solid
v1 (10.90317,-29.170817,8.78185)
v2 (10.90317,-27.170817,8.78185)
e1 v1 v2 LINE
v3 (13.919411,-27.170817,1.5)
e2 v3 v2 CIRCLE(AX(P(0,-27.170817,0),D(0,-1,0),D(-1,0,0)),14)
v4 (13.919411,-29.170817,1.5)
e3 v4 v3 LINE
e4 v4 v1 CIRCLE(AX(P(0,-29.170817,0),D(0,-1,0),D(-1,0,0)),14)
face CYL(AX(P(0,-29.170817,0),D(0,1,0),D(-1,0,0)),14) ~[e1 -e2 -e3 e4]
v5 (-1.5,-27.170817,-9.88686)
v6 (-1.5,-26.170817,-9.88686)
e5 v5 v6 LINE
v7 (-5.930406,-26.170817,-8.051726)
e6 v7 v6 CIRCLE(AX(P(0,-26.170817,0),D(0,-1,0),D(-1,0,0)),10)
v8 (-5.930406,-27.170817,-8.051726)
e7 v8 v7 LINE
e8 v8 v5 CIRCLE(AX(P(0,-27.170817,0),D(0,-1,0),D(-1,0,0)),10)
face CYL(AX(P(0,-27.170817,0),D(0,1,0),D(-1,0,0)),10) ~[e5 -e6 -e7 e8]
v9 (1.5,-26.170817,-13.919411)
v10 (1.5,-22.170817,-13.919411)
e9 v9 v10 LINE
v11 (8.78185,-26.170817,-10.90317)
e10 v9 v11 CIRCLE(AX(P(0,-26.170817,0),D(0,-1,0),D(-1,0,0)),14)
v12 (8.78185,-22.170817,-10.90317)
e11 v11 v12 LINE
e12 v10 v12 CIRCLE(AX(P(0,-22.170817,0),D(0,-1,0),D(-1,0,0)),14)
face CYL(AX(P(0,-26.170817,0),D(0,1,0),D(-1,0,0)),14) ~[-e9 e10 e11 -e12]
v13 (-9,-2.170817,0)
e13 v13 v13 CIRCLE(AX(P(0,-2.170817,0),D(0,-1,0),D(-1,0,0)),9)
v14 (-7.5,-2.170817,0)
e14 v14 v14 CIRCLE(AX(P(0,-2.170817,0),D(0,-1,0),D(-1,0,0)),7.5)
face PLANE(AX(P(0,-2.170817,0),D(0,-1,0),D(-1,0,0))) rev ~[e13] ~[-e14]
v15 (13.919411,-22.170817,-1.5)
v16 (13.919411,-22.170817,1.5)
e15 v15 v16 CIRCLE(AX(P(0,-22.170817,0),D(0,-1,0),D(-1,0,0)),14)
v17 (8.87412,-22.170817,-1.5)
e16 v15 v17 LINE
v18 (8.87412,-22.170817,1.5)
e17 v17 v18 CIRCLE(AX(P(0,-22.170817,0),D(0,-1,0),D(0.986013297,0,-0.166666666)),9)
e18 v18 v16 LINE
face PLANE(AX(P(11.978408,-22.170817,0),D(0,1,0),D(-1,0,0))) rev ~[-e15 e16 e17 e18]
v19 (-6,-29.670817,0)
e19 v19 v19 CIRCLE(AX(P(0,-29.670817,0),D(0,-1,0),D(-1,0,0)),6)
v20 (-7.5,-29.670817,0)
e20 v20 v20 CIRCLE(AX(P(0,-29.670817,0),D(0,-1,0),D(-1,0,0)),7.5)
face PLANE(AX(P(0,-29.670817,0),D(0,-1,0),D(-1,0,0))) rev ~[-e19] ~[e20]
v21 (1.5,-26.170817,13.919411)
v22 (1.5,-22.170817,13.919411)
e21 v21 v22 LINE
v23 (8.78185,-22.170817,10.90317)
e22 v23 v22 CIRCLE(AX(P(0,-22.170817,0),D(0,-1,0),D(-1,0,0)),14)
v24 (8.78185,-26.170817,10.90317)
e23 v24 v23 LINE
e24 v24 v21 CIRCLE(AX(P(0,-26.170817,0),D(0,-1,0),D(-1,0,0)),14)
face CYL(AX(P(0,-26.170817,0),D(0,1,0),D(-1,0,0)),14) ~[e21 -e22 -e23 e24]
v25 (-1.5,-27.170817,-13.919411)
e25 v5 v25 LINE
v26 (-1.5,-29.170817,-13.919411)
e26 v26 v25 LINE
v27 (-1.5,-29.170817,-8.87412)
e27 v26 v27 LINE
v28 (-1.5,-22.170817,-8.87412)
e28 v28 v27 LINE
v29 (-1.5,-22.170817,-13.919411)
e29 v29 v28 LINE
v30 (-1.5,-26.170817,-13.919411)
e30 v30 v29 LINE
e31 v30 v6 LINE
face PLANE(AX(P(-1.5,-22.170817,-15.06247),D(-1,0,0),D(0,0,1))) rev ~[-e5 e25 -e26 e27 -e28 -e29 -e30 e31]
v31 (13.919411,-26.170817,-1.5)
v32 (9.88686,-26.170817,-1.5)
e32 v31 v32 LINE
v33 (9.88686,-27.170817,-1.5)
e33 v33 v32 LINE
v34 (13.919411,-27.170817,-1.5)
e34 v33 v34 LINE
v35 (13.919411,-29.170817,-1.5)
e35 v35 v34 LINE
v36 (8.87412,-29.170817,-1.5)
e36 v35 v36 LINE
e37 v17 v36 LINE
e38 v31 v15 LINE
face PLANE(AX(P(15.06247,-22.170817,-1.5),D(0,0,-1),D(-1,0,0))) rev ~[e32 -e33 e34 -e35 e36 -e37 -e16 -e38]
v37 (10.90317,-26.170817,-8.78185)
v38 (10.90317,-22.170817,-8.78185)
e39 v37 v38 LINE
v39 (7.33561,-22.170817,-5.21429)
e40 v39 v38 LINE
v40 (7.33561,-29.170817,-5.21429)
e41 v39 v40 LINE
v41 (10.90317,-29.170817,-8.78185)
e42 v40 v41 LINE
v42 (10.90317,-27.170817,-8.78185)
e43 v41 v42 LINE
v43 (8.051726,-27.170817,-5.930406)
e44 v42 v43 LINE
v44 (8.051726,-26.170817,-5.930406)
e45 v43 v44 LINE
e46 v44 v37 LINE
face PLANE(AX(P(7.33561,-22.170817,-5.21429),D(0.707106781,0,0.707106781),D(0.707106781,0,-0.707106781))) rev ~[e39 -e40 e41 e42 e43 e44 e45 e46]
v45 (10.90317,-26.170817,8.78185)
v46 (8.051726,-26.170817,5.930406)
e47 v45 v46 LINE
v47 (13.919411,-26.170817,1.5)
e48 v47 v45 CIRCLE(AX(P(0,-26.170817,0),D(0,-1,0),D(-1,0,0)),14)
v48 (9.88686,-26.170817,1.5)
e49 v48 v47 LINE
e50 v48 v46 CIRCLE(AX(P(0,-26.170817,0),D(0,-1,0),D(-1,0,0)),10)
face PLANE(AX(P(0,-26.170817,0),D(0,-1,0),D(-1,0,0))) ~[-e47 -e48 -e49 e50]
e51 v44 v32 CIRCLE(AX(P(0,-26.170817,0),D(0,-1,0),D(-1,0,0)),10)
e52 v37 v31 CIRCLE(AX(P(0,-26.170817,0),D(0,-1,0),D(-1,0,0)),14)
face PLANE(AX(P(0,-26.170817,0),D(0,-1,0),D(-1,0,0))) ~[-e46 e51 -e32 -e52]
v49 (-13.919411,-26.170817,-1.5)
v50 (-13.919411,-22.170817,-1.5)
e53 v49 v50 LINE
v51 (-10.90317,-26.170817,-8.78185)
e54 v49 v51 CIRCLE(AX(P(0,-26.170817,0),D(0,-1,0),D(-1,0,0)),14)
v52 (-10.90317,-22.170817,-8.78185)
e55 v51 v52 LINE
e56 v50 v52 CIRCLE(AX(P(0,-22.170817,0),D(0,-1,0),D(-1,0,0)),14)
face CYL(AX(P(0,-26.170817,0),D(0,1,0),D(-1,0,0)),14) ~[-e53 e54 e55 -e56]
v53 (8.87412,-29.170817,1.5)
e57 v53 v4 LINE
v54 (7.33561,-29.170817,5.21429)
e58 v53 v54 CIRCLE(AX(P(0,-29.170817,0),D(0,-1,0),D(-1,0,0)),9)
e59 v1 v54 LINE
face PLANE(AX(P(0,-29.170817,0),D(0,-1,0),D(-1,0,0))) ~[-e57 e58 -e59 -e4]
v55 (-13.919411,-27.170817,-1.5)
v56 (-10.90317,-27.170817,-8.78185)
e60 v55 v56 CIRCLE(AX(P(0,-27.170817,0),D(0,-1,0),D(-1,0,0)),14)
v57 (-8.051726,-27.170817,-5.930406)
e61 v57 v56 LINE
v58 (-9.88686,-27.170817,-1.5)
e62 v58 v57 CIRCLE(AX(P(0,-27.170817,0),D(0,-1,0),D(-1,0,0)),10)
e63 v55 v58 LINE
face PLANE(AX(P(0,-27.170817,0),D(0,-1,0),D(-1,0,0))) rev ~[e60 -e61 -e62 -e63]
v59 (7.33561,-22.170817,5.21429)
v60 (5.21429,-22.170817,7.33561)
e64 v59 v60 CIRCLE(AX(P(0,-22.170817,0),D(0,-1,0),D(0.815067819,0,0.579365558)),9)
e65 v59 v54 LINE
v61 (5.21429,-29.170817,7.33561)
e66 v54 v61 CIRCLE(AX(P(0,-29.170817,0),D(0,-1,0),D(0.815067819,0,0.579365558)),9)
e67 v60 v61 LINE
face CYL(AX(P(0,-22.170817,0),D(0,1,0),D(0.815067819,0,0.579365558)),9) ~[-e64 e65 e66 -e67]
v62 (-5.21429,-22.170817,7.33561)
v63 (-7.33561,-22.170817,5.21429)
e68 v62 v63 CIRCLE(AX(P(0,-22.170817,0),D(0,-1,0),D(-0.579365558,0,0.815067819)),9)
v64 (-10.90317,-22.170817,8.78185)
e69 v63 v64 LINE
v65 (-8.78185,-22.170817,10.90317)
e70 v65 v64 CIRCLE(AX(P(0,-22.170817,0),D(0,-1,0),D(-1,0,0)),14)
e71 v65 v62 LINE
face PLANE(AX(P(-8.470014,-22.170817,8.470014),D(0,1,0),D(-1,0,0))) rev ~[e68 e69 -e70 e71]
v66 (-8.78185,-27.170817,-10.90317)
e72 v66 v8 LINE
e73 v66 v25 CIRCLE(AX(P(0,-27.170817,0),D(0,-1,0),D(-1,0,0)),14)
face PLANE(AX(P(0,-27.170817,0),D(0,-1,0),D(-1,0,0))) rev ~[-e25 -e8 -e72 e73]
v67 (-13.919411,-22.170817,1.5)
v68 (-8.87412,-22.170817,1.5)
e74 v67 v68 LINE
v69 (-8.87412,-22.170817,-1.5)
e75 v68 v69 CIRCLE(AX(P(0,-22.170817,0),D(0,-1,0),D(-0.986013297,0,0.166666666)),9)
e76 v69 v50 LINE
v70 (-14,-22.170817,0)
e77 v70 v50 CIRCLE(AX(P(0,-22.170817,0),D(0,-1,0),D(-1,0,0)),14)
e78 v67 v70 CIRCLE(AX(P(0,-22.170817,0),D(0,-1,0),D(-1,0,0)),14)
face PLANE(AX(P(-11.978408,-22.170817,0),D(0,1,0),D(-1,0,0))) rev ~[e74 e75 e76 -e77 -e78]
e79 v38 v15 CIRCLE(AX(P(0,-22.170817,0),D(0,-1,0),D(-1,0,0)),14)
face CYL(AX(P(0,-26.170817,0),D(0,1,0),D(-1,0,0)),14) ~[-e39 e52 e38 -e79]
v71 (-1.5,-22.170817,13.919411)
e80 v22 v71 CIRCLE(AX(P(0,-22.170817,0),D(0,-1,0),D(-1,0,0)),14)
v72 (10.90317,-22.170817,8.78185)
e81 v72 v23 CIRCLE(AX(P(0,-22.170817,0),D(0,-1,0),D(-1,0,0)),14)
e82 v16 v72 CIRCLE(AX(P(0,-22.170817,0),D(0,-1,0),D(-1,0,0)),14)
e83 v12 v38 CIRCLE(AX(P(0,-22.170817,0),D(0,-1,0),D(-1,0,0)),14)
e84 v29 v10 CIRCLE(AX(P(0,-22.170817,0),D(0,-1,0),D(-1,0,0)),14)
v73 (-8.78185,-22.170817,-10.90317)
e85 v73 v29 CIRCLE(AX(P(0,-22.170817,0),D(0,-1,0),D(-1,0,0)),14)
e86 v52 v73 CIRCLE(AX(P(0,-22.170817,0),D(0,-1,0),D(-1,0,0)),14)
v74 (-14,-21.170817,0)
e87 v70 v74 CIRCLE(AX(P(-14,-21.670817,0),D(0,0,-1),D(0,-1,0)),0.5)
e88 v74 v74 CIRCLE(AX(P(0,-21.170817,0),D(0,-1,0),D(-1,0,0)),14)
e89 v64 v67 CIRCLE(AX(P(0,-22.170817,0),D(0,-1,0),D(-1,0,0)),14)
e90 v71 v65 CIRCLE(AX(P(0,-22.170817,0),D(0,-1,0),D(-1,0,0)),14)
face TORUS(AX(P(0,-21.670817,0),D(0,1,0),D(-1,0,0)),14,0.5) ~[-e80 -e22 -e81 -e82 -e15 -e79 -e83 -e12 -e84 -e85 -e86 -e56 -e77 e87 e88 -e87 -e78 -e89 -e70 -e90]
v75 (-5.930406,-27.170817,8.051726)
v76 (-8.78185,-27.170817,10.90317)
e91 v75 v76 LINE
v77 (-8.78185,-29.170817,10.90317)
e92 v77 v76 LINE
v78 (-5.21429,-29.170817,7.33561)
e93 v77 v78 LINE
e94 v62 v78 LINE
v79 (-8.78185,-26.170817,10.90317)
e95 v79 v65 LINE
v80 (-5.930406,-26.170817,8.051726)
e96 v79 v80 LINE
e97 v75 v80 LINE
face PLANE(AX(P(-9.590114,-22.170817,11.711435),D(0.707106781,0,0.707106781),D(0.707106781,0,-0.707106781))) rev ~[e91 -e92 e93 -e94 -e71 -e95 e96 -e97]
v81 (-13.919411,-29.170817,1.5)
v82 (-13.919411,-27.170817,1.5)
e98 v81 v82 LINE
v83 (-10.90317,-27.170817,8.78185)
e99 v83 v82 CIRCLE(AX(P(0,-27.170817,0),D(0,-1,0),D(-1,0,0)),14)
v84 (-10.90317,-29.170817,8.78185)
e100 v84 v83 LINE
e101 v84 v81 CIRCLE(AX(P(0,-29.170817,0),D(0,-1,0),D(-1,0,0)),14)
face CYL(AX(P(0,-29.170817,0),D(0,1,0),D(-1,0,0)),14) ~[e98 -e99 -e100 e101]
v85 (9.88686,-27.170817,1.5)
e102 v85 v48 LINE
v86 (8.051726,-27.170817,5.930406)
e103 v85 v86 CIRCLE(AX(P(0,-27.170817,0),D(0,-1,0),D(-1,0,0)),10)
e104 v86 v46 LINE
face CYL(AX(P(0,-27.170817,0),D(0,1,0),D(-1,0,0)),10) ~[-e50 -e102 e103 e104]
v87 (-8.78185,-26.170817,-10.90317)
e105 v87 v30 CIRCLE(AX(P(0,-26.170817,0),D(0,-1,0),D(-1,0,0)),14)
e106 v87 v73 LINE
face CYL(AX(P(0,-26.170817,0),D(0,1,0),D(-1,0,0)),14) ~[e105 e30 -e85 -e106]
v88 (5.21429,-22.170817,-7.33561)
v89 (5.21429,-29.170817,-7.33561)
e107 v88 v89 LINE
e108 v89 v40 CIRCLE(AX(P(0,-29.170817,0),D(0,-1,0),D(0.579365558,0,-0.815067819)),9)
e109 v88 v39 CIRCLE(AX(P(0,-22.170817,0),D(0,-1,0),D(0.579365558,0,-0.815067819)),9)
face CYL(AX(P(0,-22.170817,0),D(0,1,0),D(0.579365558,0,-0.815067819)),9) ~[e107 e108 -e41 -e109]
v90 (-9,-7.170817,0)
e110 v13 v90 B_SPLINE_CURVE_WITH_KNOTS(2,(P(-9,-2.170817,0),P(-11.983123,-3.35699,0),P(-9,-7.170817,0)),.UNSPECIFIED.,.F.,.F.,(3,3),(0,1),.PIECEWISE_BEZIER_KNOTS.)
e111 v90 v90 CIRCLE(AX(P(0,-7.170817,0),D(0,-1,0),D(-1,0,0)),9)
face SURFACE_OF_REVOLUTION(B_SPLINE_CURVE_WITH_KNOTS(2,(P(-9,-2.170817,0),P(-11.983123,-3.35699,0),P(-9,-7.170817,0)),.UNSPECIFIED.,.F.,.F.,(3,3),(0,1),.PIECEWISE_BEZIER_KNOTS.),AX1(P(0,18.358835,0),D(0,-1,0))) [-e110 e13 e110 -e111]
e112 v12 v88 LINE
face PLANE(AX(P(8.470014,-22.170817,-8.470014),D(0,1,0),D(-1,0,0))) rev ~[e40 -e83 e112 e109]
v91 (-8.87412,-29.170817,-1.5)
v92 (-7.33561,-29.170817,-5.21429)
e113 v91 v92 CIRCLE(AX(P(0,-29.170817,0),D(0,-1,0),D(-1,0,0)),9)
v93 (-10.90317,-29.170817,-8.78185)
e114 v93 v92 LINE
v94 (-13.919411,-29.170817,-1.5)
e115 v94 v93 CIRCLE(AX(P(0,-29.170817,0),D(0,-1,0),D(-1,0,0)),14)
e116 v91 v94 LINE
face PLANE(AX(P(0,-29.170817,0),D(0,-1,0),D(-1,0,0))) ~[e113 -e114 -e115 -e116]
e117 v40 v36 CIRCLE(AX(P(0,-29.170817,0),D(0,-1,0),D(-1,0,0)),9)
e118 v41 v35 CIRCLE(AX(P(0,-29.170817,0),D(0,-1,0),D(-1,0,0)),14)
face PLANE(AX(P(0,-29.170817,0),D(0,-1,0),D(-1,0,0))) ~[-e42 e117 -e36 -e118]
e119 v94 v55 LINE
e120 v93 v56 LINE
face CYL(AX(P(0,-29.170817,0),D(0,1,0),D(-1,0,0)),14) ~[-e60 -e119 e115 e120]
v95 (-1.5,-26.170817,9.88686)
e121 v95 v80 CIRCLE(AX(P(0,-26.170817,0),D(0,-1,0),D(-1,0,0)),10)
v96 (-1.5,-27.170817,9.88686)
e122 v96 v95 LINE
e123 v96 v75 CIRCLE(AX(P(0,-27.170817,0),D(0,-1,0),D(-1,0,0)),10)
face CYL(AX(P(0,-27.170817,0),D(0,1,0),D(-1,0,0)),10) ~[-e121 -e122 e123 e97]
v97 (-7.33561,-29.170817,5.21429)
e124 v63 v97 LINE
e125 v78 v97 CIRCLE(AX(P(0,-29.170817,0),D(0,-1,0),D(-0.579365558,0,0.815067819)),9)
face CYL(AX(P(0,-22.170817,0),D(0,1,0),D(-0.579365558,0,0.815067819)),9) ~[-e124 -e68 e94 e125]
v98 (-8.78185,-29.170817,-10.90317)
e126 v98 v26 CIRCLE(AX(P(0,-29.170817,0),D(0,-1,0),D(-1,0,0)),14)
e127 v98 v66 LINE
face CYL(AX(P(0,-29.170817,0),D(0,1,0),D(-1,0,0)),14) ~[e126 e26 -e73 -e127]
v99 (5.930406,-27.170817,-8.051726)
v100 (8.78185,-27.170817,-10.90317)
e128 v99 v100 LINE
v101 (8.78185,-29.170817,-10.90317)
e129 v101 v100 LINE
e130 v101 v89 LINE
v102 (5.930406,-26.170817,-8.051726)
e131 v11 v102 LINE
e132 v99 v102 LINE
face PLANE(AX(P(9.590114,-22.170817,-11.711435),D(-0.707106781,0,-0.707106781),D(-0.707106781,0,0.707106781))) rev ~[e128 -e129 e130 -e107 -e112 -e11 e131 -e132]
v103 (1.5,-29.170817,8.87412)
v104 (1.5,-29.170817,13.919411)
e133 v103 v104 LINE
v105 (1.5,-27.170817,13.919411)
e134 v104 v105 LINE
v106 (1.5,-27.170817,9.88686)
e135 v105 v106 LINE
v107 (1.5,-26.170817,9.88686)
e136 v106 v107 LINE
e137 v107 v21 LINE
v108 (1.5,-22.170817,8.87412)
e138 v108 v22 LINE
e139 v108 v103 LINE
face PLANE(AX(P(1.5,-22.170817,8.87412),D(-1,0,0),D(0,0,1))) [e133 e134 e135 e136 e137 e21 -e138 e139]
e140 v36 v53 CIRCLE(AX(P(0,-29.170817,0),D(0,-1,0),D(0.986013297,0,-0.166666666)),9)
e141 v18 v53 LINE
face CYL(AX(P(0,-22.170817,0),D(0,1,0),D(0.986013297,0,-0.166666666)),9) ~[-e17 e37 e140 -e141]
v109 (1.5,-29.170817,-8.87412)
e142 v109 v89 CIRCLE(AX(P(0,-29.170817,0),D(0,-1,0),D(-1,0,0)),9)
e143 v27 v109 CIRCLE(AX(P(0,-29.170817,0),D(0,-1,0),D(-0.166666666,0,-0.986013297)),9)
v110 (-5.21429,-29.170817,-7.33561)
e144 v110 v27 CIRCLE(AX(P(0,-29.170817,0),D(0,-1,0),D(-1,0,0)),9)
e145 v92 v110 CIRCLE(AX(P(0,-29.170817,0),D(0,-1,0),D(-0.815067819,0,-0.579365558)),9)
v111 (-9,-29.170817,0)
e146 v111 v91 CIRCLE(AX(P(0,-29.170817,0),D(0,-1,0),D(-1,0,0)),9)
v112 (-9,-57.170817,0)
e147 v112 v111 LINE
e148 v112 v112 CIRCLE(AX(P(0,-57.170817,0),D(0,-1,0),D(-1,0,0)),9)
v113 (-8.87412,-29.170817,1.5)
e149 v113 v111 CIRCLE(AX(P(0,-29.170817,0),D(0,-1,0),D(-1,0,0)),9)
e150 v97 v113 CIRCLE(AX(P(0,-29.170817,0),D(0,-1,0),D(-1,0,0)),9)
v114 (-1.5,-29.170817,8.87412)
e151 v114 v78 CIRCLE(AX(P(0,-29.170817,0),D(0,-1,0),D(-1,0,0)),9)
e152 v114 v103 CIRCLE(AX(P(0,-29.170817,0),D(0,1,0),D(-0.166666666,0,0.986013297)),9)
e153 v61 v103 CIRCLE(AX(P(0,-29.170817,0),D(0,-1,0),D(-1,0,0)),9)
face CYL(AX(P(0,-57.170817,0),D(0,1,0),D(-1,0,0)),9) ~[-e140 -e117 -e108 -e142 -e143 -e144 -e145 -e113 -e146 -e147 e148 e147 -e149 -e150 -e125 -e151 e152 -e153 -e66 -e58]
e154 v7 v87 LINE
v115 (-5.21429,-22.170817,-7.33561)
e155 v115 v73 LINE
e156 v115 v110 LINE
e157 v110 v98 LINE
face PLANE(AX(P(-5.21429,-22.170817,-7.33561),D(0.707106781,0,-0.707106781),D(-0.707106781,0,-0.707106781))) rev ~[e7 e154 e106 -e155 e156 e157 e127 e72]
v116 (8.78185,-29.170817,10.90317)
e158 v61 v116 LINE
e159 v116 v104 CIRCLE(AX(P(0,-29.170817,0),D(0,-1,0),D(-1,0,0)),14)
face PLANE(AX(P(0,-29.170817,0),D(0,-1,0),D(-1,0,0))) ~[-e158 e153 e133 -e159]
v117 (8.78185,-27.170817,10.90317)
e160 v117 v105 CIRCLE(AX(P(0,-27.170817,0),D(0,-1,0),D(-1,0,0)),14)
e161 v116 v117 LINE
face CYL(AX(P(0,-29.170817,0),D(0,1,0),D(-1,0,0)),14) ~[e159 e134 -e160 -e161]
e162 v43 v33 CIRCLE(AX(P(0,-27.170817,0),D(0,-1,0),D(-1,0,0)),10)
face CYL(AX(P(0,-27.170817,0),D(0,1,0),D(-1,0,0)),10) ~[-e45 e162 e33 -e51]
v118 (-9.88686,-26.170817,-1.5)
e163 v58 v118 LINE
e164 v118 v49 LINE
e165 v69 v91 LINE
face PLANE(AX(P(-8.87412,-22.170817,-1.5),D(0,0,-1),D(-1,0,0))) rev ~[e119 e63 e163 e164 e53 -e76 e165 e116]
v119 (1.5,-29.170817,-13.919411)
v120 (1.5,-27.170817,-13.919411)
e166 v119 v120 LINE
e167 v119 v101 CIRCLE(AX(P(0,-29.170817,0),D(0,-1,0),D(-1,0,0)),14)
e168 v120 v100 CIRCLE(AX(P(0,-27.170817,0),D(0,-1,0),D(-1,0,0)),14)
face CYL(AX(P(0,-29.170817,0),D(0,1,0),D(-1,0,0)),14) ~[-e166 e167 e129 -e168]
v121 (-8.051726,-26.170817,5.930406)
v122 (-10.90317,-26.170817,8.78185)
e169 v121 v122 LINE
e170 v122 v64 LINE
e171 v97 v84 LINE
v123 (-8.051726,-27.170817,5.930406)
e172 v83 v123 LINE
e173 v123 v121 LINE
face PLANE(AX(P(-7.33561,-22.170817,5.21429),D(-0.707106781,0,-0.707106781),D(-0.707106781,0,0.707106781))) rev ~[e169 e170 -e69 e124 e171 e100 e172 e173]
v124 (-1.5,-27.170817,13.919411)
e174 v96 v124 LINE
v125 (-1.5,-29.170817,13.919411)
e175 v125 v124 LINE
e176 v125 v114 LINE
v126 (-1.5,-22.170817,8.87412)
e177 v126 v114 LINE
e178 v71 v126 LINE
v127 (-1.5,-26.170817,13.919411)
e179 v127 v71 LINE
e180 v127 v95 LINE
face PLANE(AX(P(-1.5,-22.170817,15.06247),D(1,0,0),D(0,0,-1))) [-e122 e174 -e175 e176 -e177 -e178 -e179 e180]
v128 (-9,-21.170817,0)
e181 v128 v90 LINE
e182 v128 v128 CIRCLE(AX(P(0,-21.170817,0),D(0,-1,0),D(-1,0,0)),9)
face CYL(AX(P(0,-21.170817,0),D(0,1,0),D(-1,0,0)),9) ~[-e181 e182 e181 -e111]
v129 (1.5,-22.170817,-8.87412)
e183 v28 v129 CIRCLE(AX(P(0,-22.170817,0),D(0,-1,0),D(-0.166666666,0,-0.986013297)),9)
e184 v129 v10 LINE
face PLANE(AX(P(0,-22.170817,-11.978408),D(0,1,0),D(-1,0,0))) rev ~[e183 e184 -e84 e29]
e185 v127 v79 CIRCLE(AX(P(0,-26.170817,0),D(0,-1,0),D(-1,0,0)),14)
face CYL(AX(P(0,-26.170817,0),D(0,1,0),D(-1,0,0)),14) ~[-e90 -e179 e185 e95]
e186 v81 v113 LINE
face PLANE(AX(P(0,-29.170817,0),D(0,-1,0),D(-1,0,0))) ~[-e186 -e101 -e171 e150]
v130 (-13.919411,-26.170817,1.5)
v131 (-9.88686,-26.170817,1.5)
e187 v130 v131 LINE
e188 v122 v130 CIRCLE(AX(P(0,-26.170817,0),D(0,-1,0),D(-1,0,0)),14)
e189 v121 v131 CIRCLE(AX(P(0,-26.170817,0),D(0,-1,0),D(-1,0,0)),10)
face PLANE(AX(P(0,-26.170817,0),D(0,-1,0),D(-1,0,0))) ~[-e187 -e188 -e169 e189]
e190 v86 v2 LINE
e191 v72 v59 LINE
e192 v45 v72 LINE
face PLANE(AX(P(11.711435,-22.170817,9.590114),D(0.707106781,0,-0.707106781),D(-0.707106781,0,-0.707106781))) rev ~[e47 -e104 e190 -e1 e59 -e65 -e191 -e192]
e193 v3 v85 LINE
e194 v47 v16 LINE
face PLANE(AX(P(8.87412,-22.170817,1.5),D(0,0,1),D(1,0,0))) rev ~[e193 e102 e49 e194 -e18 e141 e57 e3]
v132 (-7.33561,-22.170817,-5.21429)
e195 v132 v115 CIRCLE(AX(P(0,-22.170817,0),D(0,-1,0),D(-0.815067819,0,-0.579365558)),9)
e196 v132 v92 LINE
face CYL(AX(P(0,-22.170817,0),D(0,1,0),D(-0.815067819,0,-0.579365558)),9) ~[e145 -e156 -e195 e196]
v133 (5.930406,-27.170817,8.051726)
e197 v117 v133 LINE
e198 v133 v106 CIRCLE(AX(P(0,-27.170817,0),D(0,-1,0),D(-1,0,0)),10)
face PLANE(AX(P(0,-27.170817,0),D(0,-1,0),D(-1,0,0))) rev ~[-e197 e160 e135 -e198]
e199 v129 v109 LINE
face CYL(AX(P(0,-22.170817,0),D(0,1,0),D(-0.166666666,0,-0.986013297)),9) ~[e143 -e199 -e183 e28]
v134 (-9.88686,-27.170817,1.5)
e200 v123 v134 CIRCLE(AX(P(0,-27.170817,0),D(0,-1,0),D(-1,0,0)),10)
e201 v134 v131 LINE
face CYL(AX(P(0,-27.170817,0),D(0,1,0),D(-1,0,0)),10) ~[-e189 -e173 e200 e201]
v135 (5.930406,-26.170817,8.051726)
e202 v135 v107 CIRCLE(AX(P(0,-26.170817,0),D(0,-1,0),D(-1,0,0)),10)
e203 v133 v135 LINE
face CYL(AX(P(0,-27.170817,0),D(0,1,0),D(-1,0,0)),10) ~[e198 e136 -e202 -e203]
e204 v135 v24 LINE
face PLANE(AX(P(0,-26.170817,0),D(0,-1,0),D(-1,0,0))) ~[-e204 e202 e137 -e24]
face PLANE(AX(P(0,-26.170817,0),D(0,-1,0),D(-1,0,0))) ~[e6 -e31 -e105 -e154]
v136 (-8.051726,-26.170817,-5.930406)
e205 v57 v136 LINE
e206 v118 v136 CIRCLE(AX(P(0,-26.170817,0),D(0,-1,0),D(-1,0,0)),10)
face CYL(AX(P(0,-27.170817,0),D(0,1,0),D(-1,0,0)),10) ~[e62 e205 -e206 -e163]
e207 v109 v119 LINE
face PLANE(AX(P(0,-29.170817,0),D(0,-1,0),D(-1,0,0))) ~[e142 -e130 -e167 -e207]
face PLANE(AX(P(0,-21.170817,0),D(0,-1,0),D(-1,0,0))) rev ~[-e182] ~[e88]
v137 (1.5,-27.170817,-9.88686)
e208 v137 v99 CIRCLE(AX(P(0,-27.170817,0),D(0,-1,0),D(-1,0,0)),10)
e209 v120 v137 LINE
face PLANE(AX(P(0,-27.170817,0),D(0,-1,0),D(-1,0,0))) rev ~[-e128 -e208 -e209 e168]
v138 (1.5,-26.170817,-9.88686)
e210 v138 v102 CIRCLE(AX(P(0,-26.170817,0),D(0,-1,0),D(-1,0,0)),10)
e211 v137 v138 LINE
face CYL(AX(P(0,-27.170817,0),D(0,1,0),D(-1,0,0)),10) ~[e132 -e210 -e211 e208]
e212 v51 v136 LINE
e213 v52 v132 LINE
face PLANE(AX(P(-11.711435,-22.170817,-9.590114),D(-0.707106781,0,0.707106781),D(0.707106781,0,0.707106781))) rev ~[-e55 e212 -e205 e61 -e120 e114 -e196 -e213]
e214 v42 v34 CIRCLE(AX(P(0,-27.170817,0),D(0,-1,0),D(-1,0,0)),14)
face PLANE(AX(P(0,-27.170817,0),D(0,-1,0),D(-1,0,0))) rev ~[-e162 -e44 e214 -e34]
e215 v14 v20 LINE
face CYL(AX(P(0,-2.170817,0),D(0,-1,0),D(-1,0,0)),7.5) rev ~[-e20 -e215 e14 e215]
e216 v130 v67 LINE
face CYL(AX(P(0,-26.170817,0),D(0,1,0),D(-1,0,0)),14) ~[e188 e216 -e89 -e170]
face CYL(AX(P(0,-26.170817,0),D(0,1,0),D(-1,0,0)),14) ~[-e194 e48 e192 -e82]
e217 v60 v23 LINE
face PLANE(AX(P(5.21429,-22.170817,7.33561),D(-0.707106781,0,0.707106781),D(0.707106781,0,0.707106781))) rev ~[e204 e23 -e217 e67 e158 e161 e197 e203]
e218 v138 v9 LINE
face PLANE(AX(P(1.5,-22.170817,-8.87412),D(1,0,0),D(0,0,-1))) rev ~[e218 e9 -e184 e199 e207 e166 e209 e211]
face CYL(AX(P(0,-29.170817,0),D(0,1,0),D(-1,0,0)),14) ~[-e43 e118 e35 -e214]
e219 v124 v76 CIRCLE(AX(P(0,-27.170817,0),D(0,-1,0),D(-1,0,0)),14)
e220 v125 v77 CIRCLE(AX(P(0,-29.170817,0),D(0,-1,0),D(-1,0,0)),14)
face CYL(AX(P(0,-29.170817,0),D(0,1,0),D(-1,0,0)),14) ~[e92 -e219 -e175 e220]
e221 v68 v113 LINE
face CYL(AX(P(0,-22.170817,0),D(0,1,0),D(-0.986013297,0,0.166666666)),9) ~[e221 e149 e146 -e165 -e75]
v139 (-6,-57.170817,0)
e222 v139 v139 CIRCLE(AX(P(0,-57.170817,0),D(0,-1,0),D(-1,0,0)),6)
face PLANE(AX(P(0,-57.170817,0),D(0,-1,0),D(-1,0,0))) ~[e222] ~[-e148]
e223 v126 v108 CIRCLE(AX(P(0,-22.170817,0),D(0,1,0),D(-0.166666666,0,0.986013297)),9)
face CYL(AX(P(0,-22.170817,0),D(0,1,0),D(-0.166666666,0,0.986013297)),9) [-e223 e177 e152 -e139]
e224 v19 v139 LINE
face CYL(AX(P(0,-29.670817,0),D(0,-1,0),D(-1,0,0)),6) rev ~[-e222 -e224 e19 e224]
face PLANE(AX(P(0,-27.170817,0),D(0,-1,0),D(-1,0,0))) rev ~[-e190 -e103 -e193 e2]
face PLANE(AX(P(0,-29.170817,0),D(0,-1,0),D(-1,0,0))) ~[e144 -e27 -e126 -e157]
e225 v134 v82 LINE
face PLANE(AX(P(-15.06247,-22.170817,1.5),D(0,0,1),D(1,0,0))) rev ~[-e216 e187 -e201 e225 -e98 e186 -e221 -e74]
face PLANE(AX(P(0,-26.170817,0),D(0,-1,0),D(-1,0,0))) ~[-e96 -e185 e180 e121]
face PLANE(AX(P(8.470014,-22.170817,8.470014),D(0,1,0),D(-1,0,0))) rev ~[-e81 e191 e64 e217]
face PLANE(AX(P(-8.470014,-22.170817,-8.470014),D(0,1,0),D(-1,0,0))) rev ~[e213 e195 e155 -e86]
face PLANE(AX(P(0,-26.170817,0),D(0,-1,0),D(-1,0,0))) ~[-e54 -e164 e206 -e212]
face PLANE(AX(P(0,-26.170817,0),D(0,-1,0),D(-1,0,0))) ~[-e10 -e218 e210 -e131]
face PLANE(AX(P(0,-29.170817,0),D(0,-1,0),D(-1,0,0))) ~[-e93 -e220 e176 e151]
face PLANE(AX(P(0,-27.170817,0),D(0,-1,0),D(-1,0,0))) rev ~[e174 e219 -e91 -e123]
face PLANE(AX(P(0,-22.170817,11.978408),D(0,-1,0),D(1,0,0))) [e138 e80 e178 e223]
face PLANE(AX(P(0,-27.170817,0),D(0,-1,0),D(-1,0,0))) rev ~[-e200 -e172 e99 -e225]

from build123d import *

# Parameters (mm, degrees)
TAGLIO_ESTRUSIONE1_START = -7
TAGLIO_ESTRUSIONE1_DEPTH = 7


with BuildPart() as part:
    # Schizzo2 → Rivoluzione1 (revolve)
    with BuildSketch(Plane.XY):
        with BuildLine():
            Line((-9, -21.170817104), (-9, -7.170817104))
            add(Edge.make_bspline(
                [(-9, -2.170817104), (-11.983123447, -3.356989604), (-9, -7.170817104)],
                knots=[0, 0, 0, 1, 1, 1], degree=2))
            Line((-9, -2.170817104), (-7.5, -2.170817104))
            Line((-7.5, -2.170817104), (-7.5, -29.670817104))
            Line((-7.5, -29.670817104), (-6, -29.670817104))
            Line((-6, -29.670817104), (-6, -57.170817104))
            Line((-6, -57.170817104), (-9, -57.170817104))
            Line((-9, -57.170817104), (-9, -29.170817104))
            Line((-9, -29.170817104), (-14, -29.170817104))
            Line((-14, -29.170817104), (-14, -27.170817104))
            Line((-14, -27.170817104), (-10, -27.170817104))
            Line((-10, -27.170817104), (-10, -26.170817104))
            Line((-10, -26.170817104), (-14, -26.170817104))
            Line((-14, -26.170817104), (-14, -22.170817104))
            ThreePointArc((-14, -22.170817104), (-14.5, -21.670817104), (-14, -21.170817104))
            Line((-14, -21.170817104), (-9, -21.170817104))
        make_face()
    revolve(axis=Axis((0, 18.35883479, 0), (0, -1, 0)))

    # Schizzo5 → Taglio-Estrusione1 (cut)
    with BuildSketch(Plane.XZ.offset(29.170817104).offset(TAGLIO_ESTRUSIONE1_START)):
        with BuildLine():
            Line((1.5, 15.062469538), (-1.5, 15.062469538))
            Line((-1.5, 15.062469538), (-1.5, 8.874119675))
            ThreePointArc((-1.5, 8.874119675), (0, 9), (1.5, 8.874119675))
            Line((1.5, 8.874119675), (1.5, 15.062469538))
        make_face()
        with BuildLine():
            Line((11.711434524, 9.59011418), (7.335610371, 5.214290027))
            ThreePointArc((7.335610371, 5.214290027), (6.363961031, 6.363961031), (5.214290027, 7.335610371))
            Line((5.214290027, 7.335610371), (9.59011418, 11.711434524))
            Line((9.59011418, 11.711434524), (11.711434524, 9.59011418))
        make_face()
        with BuildLine():
            Line((15.062469538, -1.5), (8.874119675, -1.5))
            ThreePointArc((8.874119675, -1.5), (9, 0), (8.874119675, 1.5))
            Line((8.874119675, 1.5), (15.062469538, 1.5))
            Line((15.062469538, 1.5), (15.062469538, -1.5))
        make_face()
        with BuildLine():
            Line((9.59011418, -11.711434524), (5.214290027, -7.335610371))
            ThreePointArc((5.214290027, -7.335610371), (6.363961031, -6.363961031), (7.335610371, -5.214290027))
            Line((7.335610371, -5.214290027), (11.711434524, -9.59011418))
            Line((11.711434524, -9.59011418), (9.59011418, -11.711434524))
        make_face()
        with BuildLine():
            Line((-1.5, -15.062469538), (-1.5, -8.874119675))
            ThreePointArc((-1.5, -8.874119675), (0, -9), (1.5, -8.874119675))
            Line((1.5, -8.874119675), (1.5, -15.062469538))
            Line((1.5, -15.062469538), (-1.5, -15.062469538))
        make_face()
        with BuildLine():
            Line((-11.711434524, -9.59011418), (-7.335610371, -5.214290027))
            ThreePointArc((-7.335610371, -5.214290027), (-6.363961031, -6.363961031), (-5.214290027, -7.335610371))
            Line((-5.214290027, -7.335610371), (-9.59011418, -11.711434524))
            Line((-9.59011418, -11.711434524), (-11.711434524, -9.59011418))
        make_face()
        with BuildLine():
            Line((-15.062469538, 1.5), (-8.874119675, 1.5))
            ThreePointArc((-8.874119675, 1.5), (-9, 0), (-8.874119675, -1.5))
            Line((-8.874119675, -1.5), (-15.062469538, -1.5))
            Line((-15.062469538, -1.5), (-15.062469538, 1.5))
        make_face()
        with BuildLine():
            Line((-9.59011418, 11.711434524), (-5.214290027, 7.335610371))
            ThreePointArc((-5.214290027, 7.335610371), (-6.363961031, 6.363961031), (-7.335610371, 5.214290027))
            Line((-7.335610371, 5.214290027), (-11.711434524, 9.59011418))
            Line((-11.711434524, 9.59011418), (-9.59011418, 11.711434524))
        make_face()
    extrude(amount=TAGLIO_ESTRUSIONE1_DEPTH, mode=Mode.SUBTRACT)


solid = part.part
